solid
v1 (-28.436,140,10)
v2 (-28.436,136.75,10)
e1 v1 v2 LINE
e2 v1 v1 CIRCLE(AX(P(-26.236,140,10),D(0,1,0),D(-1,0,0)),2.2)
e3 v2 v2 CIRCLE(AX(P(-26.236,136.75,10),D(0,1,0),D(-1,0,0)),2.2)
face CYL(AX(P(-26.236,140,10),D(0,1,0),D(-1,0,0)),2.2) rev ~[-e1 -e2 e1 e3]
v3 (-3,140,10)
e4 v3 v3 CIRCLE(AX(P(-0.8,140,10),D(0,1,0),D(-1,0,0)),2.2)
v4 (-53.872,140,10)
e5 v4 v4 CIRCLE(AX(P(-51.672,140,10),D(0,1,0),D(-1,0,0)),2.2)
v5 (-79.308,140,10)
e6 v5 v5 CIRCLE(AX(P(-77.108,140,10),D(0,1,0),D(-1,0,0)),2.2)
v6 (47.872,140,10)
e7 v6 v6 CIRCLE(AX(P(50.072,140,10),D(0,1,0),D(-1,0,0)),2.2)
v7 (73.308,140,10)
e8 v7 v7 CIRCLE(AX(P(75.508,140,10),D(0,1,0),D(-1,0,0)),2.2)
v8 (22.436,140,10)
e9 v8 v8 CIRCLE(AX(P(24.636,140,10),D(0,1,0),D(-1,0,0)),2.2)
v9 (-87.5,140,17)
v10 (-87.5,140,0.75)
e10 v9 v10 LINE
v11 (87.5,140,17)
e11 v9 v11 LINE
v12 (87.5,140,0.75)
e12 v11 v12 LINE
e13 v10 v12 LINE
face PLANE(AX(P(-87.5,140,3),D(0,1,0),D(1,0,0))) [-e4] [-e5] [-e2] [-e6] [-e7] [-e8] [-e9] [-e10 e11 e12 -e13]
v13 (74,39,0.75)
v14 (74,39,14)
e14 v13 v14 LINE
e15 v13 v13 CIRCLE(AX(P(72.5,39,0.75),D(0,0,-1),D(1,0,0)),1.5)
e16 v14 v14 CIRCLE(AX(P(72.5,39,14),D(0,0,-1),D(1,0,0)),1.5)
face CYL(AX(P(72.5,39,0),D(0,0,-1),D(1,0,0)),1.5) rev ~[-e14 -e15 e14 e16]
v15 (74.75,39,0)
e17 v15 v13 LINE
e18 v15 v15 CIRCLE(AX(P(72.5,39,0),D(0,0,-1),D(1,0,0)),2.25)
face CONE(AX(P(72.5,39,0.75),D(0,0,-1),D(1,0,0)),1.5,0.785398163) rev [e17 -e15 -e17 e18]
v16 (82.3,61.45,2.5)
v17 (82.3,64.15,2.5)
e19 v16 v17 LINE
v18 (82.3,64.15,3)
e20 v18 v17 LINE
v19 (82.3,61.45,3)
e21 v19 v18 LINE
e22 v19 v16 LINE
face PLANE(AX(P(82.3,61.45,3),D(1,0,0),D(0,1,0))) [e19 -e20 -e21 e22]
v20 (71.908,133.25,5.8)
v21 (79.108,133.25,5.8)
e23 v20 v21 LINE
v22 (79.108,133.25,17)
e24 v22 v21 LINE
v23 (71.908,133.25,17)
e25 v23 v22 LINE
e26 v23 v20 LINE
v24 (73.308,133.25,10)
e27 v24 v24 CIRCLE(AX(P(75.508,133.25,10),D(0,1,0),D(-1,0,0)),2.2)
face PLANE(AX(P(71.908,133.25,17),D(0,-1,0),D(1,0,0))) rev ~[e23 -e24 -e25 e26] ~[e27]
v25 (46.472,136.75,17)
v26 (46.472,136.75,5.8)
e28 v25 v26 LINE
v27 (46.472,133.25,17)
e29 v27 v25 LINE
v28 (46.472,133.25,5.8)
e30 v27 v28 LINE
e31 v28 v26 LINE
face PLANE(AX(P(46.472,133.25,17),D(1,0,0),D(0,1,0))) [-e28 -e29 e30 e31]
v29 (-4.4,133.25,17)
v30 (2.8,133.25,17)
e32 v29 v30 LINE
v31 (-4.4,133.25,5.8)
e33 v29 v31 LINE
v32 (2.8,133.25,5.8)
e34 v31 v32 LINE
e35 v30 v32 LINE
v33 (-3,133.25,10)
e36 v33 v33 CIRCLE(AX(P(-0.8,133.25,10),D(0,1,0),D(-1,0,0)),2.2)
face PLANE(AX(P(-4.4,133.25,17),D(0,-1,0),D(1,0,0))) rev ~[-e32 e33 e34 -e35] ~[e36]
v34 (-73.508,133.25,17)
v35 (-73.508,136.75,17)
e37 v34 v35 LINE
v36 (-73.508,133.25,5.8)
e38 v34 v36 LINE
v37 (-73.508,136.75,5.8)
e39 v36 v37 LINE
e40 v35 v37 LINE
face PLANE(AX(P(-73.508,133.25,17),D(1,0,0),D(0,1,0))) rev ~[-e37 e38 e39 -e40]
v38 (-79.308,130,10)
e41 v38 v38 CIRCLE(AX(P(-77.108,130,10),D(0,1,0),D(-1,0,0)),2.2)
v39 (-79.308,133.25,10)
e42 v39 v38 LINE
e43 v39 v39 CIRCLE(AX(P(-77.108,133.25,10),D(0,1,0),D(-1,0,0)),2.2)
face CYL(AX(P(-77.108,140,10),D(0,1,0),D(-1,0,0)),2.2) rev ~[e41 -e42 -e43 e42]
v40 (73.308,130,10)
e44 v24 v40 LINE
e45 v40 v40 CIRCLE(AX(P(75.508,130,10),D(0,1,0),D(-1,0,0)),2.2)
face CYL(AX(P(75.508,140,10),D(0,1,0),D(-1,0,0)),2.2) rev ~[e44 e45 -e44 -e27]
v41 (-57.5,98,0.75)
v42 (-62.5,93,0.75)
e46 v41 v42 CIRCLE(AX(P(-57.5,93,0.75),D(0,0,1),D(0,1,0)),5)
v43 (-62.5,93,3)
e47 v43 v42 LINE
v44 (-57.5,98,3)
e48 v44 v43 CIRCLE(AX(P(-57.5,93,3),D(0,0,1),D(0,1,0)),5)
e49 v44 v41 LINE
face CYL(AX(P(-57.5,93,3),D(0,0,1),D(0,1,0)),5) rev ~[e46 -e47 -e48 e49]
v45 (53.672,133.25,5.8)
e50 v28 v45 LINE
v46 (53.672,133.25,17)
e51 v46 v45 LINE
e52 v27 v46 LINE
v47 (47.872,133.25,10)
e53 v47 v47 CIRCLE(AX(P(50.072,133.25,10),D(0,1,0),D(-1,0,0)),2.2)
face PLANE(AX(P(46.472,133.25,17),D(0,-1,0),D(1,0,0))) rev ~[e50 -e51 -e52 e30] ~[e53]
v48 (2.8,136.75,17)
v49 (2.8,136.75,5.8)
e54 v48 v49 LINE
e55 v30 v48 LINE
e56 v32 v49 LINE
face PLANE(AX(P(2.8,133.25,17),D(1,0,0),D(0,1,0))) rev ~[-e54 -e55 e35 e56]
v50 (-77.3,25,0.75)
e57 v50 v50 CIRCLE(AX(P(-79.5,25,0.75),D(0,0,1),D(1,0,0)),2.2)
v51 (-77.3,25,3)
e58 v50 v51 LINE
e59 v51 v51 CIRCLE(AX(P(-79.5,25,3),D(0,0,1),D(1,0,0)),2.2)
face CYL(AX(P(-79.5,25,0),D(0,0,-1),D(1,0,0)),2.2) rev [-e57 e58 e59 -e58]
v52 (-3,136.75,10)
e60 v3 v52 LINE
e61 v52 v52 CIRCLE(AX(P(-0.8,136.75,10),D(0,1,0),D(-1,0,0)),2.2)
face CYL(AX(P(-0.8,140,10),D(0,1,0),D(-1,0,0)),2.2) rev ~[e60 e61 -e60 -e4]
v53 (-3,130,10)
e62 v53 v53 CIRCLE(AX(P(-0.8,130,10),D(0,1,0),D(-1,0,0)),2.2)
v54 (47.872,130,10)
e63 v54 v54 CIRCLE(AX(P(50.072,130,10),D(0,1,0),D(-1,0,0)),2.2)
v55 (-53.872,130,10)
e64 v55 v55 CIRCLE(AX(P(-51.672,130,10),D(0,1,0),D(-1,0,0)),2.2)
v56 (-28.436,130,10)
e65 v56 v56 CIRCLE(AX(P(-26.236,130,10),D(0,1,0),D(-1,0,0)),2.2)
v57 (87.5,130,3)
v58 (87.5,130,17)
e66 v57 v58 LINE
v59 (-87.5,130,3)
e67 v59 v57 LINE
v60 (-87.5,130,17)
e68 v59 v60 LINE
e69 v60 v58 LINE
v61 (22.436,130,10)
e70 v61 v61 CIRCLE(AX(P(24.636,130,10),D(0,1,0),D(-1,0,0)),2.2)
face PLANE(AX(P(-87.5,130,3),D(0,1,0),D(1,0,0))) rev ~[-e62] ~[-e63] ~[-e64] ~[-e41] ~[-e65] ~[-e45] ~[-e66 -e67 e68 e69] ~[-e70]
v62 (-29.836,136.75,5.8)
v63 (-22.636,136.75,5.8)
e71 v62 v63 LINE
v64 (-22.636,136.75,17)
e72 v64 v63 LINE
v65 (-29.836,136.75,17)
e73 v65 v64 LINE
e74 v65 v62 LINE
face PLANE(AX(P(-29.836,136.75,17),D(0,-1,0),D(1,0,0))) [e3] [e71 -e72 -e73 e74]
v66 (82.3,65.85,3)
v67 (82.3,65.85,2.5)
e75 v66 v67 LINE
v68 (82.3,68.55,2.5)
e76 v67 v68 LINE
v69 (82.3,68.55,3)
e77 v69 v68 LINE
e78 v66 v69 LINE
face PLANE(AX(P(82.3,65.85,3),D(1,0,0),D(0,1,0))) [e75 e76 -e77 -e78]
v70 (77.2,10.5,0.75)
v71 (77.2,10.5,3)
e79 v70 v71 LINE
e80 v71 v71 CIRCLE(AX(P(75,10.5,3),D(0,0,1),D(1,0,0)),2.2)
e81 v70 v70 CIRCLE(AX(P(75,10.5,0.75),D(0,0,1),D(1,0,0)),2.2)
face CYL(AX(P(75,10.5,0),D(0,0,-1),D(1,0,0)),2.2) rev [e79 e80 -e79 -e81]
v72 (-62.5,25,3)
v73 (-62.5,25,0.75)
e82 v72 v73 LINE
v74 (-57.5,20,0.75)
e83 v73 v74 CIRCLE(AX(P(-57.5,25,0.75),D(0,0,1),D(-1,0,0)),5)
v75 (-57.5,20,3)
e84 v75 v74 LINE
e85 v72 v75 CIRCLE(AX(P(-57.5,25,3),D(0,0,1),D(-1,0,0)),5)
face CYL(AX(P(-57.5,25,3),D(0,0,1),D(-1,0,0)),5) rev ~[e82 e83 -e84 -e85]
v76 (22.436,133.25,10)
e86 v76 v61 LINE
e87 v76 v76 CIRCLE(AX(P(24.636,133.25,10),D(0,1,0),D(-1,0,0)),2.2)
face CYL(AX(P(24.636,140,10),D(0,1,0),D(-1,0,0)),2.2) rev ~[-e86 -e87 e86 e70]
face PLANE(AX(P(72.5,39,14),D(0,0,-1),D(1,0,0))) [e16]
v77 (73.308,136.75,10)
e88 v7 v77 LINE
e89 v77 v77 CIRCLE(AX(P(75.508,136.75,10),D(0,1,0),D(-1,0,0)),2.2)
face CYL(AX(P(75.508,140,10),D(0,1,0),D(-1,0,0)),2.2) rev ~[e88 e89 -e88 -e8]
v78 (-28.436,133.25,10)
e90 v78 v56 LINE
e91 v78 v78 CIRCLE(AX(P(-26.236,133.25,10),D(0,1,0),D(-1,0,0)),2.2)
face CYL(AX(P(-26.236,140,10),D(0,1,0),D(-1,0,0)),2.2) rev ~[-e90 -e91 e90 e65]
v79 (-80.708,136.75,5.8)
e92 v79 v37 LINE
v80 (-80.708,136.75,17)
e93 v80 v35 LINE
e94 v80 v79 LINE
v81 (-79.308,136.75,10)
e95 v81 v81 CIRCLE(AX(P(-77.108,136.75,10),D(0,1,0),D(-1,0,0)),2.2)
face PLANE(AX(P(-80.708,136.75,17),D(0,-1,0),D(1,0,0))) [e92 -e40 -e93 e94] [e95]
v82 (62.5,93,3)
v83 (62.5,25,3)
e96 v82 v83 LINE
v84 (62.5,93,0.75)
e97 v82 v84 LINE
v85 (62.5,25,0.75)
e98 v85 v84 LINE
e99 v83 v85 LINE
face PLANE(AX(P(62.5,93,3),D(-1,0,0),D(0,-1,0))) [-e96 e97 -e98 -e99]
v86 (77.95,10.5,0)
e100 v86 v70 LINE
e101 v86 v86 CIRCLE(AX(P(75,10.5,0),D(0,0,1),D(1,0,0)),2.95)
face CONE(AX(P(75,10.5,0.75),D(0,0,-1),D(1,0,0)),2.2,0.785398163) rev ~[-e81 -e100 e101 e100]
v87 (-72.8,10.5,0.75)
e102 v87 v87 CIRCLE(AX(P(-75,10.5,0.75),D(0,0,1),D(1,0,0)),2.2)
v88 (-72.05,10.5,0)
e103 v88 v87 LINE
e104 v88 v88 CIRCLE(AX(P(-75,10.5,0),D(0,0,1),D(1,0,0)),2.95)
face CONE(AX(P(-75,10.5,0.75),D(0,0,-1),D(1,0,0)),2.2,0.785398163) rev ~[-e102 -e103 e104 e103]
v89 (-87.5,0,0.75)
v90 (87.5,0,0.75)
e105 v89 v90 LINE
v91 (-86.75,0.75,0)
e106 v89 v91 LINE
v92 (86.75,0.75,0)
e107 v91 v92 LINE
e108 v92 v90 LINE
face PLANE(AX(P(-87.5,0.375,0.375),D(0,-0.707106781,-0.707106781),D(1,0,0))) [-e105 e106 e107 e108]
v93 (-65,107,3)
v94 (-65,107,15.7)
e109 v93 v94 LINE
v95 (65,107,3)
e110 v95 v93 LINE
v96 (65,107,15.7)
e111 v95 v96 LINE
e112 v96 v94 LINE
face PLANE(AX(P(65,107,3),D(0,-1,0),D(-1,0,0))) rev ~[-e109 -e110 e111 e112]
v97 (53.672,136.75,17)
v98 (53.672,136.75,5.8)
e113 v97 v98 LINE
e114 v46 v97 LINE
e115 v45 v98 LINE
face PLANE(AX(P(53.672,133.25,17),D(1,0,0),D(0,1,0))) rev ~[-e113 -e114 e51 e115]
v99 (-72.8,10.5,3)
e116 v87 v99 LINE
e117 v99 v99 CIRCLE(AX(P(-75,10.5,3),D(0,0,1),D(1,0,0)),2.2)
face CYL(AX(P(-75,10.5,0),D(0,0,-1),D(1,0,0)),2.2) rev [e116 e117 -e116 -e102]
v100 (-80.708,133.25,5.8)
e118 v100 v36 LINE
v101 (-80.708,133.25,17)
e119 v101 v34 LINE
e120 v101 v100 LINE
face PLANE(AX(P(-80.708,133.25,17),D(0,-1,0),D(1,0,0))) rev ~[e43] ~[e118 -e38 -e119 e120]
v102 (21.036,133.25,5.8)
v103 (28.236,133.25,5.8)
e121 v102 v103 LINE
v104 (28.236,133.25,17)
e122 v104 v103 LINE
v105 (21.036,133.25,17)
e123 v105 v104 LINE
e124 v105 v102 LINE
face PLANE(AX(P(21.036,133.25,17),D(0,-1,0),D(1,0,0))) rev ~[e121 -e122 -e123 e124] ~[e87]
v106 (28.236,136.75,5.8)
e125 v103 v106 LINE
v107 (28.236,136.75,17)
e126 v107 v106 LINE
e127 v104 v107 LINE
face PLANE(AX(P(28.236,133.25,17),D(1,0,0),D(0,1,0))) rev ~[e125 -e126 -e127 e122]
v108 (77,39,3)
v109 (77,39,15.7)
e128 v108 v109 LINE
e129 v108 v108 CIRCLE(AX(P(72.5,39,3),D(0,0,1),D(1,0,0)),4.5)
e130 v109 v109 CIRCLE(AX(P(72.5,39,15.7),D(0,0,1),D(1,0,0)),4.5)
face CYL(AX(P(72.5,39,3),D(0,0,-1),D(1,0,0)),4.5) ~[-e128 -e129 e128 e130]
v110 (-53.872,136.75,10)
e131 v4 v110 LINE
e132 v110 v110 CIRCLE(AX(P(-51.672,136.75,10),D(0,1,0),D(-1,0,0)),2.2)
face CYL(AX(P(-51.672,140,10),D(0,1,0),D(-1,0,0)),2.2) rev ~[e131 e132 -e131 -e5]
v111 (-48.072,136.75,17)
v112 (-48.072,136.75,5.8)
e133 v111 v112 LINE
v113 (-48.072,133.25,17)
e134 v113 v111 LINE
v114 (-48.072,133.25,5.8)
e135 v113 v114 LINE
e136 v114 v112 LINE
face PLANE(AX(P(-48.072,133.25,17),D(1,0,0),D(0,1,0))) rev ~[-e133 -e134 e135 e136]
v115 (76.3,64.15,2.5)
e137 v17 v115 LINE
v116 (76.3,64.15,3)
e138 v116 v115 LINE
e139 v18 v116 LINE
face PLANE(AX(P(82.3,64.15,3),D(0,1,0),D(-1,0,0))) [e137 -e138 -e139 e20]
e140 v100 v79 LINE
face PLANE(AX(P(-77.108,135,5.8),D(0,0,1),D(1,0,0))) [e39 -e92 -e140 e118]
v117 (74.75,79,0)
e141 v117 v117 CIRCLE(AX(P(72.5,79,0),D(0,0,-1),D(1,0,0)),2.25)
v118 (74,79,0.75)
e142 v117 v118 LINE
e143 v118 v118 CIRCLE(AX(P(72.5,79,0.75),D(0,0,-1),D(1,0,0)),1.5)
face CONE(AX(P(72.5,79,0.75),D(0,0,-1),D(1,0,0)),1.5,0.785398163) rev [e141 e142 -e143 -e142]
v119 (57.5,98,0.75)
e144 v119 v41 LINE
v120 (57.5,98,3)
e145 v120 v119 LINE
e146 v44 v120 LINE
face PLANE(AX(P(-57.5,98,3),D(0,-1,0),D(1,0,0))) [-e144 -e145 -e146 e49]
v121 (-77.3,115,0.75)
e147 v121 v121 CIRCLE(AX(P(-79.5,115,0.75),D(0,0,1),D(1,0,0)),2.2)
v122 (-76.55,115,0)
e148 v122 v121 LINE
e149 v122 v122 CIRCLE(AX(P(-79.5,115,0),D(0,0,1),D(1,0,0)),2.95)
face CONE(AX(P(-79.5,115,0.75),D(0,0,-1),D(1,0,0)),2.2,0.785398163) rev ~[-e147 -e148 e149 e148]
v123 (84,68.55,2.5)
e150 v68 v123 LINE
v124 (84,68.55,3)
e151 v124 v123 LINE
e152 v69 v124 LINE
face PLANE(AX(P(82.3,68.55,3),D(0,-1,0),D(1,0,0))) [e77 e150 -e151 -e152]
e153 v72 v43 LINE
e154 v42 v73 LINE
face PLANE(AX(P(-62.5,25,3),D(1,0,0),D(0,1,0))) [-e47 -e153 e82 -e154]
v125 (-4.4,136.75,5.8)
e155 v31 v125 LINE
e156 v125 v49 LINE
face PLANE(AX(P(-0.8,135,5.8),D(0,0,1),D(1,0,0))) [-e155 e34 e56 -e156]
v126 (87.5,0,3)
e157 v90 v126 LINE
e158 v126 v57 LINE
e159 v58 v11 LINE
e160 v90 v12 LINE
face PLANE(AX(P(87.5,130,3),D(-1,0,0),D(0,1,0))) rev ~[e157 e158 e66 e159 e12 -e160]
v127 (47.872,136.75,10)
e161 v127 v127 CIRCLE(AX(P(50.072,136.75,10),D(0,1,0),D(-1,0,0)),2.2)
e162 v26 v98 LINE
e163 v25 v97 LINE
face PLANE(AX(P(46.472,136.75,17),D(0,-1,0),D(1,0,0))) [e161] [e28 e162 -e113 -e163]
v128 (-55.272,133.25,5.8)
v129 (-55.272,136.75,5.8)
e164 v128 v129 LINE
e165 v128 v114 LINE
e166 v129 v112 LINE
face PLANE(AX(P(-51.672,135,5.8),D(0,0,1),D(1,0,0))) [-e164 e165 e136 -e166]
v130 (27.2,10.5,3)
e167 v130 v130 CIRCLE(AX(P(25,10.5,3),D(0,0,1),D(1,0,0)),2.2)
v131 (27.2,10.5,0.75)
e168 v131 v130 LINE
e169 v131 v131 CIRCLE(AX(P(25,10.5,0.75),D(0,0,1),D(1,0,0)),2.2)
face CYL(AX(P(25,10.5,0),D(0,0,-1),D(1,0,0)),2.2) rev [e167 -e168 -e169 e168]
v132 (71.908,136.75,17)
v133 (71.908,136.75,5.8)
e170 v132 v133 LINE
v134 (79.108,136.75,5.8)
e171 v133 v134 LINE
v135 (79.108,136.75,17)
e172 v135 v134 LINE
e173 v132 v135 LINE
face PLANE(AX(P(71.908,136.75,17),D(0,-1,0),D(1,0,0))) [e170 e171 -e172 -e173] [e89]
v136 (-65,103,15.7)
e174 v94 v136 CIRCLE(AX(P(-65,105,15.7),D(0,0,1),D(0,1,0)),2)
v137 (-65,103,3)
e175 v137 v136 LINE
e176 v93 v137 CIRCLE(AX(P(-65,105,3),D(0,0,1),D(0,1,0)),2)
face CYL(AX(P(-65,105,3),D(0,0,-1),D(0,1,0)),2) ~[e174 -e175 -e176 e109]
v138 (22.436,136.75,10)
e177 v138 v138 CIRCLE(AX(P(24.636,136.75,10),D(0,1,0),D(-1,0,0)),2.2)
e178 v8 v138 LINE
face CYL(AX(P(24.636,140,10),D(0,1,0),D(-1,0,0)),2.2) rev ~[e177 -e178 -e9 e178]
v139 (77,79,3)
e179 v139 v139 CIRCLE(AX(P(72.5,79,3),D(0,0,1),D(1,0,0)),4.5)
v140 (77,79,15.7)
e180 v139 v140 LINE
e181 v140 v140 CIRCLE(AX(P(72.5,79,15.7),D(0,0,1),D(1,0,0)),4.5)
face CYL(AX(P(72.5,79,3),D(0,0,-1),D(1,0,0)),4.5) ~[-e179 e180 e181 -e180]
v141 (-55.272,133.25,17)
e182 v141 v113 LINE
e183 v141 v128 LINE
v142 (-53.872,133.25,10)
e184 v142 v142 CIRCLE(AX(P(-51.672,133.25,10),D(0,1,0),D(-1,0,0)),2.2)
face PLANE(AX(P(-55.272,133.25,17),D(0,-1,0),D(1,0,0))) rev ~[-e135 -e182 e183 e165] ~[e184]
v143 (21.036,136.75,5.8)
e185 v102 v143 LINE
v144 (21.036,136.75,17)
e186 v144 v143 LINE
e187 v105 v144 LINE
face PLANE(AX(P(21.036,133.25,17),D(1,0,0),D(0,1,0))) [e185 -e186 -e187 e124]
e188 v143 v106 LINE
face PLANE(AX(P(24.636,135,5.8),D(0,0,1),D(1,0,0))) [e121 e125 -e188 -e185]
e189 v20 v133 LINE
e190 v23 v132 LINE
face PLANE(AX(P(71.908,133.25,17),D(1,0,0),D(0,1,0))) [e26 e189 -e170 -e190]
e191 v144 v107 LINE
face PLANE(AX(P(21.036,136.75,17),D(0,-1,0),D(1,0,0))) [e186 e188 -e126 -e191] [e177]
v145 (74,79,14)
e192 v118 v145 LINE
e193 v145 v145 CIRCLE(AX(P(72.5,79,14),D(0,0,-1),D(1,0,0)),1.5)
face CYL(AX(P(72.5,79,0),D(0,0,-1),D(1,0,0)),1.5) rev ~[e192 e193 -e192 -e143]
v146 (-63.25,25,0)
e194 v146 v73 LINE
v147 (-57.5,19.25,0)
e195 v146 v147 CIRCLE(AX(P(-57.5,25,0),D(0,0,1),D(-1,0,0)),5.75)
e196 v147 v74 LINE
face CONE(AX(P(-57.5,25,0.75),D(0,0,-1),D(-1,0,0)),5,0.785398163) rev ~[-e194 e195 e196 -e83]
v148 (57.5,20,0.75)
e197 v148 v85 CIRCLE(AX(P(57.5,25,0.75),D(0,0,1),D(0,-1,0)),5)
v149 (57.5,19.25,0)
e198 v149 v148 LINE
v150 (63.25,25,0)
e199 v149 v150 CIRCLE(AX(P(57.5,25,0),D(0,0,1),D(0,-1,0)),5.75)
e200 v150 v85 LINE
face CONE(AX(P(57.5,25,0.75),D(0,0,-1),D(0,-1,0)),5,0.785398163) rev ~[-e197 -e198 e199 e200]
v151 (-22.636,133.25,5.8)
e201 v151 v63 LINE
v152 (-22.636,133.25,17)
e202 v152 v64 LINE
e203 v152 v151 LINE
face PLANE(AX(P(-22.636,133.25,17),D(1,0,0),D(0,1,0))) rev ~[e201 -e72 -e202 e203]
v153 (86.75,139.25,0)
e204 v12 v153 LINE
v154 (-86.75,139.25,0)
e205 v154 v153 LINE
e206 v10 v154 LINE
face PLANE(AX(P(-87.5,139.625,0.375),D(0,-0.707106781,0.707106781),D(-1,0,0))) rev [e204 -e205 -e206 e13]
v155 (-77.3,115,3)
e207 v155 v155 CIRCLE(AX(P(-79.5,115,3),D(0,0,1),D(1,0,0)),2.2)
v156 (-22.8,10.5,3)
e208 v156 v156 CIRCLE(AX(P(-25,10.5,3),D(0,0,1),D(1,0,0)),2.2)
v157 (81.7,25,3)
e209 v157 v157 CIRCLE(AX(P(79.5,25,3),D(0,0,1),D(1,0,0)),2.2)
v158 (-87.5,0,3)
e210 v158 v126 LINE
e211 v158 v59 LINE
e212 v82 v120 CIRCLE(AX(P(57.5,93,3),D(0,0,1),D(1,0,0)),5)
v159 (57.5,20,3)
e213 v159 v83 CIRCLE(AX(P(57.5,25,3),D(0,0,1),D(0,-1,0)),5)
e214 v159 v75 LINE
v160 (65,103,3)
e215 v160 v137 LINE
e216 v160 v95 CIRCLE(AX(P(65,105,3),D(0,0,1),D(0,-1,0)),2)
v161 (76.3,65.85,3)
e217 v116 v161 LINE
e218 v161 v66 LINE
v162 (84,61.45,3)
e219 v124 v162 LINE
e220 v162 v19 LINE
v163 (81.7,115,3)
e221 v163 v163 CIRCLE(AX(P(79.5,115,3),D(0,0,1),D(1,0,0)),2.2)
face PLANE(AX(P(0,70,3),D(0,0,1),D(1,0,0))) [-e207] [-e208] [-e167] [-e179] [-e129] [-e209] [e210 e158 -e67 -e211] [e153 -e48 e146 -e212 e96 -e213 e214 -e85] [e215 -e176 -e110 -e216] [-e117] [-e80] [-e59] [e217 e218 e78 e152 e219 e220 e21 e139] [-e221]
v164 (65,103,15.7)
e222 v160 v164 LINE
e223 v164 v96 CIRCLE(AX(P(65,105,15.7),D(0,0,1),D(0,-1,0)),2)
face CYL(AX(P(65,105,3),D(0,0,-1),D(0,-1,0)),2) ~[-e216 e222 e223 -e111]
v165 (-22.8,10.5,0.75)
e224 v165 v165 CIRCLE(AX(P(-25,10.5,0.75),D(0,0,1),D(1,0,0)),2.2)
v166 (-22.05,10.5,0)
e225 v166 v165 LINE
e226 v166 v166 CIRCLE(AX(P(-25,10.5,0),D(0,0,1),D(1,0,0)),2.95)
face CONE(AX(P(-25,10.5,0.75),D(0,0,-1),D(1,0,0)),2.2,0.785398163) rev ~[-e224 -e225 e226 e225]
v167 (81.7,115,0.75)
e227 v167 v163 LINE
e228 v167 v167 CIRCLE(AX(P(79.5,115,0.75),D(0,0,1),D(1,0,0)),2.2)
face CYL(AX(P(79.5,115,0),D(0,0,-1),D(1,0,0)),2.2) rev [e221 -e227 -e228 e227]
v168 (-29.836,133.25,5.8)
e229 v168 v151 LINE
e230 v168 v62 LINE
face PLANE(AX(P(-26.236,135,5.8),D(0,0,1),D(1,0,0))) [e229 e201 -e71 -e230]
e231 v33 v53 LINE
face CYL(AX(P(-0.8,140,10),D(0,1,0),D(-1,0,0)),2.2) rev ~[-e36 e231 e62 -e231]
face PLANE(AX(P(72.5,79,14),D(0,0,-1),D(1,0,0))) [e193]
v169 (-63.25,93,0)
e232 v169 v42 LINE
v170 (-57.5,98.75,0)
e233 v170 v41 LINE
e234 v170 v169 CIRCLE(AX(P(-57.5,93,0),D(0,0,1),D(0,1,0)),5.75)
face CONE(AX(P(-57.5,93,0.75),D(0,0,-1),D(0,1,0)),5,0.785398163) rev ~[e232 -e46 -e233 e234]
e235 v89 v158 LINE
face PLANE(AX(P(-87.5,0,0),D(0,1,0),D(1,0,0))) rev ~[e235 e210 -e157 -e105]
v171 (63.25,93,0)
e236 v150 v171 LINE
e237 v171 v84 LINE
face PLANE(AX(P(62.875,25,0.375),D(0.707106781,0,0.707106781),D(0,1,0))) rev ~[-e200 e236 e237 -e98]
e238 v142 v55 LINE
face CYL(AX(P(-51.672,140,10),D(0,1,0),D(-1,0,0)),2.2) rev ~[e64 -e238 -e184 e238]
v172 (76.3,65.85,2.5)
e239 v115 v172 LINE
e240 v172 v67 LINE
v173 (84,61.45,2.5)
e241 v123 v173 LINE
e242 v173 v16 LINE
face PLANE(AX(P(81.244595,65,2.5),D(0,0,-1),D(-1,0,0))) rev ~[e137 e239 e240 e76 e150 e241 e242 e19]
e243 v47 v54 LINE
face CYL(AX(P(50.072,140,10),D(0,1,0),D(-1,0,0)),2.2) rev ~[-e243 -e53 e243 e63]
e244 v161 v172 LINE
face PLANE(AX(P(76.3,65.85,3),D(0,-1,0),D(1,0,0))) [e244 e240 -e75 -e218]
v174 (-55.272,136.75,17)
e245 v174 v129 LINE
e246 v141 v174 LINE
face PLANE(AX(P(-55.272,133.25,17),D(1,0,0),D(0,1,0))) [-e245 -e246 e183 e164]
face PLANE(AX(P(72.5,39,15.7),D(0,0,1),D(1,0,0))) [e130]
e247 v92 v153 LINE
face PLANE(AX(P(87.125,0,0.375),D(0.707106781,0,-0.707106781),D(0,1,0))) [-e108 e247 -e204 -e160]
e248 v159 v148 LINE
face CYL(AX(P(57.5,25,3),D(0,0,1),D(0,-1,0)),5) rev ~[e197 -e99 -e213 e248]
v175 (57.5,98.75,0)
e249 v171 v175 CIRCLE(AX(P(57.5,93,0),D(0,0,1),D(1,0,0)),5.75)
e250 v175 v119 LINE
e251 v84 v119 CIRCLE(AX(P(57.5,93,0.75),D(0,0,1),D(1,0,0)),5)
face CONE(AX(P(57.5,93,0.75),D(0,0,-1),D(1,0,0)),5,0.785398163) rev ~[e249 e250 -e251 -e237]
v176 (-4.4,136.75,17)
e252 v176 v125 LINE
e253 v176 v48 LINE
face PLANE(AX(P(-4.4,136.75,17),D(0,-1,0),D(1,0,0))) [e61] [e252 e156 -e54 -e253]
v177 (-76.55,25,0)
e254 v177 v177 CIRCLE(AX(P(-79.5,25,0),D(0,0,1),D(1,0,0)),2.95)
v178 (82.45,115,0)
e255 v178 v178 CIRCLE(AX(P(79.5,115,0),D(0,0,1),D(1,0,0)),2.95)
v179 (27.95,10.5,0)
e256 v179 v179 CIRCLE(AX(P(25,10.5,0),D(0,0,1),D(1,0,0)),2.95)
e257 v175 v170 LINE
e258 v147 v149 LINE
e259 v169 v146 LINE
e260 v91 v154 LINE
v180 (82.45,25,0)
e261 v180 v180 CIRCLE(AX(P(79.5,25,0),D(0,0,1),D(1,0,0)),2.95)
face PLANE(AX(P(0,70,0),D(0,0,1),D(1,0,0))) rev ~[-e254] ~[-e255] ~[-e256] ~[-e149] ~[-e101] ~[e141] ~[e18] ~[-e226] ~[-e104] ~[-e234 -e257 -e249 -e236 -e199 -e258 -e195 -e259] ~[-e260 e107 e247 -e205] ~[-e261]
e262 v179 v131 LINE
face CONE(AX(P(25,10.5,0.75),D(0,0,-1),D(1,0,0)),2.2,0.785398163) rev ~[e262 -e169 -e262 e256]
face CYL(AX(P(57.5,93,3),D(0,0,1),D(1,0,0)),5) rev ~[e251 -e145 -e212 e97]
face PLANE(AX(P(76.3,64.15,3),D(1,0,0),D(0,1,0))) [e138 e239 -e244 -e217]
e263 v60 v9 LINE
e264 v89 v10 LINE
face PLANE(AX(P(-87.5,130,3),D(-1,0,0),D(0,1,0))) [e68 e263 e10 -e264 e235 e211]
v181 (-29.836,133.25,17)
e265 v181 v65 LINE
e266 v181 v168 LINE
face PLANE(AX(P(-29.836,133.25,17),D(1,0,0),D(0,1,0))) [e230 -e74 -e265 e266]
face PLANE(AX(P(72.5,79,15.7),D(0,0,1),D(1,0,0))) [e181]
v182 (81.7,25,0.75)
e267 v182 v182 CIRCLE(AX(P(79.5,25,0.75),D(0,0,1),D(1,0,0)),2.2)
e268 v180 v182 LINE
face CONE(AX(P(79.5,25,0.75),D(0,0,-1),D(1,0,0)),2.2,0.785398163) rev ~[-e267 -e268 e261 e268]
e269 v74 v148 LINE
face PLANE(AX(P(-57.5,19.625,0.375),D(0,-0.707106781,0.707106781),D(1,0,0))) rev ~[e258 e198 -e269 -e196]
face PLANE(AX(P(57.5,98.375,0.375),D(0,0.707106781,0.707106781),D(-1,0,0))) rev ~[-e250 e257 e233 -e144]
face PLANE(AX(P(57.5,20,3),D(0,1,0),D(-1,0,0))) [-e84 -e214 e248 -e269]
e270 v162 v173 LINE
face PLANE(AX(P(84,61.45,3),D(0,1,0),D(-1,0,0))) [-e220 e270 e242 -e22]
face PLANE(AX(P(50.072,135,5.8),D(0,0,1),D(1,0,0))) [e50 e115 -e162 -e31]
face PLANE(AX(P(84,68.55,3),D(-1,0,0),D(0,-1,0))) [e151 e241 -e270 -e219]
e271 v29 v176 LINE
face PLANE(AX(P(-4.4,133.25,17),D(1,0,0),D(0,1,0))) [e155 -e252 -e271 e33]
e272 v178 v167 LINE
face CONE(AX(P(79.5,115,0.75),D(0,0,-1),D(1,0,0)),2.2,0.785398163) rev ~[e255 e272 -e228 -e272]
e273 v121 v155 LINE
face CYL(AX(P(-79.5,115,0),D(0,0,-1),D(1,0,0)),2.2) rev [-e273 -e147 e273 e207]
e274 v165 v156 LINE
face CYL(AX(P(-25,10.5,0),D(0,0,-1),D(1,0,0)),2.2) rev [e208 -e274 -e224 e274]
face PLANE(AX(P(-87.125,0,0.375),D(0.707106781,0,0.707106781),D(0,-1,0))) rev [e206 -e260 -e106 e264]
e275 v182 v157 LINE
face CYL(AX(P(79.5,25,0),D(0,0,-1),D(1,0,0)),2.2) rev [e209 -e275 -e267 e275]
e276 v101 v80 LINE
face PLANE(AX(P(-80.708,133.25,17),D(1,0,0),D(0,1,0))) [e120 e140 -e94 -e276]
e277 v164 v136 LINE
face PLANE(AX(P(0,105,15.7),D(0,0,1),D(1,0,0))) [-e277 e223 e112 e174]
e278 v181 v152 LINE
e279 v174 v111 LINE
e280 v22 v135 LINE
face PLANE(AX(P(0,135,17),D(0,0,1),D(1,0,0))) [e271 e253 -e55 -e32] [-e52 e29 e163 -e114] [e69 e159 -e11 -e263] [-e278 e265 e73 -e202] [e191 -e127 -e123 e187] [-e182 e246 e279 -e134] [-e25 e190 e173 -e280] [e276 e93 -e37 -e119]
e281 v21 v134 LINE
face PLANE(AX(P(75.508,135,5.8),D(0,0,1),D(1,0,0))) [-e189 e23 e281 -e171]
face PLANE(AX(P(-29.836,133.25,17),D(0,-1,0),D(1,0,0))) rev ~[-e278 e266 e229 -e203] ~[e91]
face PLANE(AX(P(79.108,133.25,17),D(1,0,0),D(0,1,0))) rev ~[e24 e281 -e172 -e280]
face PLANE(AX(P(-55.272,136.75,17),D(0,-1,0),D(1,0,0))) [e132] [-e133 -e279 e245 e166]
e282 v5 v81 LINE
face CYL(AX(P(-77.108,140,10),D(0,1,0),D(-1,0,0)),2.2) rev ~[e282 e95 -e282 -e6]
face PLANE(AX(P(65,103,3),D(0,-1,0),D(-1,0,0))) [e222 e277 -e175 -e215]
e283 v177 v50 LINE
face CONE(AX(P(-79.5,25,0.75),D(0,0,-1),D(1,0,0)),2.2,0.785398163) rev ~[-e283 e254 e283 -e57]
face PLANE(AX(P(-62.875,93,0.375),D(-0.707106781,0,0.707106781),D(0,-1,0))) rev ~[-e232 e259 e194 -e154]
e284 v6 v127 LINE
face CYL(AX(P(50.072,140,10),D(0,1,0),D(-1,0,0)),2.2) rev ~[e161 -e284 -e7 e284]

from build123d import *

# Parameters (mm, degrees)
SKETCH_W            = 175
SKETCH_H            = 140
SKETCH_R            = 2.2
PAD_DEPTH           = 3
SKETCH001_W         = 175
SKETCH001_H         = 10
PAD001_DEPTH        = 14
SKETCH002_R         = 2.2
POCKET_DEPTH        = 140.001
SKETCH003_W         = 7.2
SKETCH003_H         = 3.5
POCKET001_DEPTH     = 11.2
LINEARPATTERN_COUNT = 7
LINEARPATTERN_PITCH = 25.436
POCKET002_DEPTH     = 0.5
PAD002_DEPTH        = 12.7
POCKET003_DEPTH     = 3.001
SKETCH007_R         = 4.5
PAD003_DEPTH        = 12.7
SKETCH008_R         = 1.5
POCKET004_DEPTH     = 14
CHAMFER_SIZE        = 0.75


with BuildPart() as part:
    # Sketch → Pad (new body)
    with BuildSketch(Plane.XY):
        with Locations((0, 70)):
            Rectangle(SKETCH_W, SKETCH_H)
        with Locations((-79.5, 115)):
            Circle(SKETCH_R, mode=Mode.SUBTRACT)
        with Locations((79.5, 115)):
            Circle(SKETCH_R, mode=Mode.SUBTRACT)
        with Locations((79.5, 25)):
            Circle(SKETCH_R, mode=Mode.SUBTRACT)
        with Locations((-79.5, 25)):
            Circle(SKETCH_R, mode=Mode.SUBTRACT)
        with Locations((-75, 10.5)):
            Circle(SKETCH_R, mode=Mode.SUBTRACT)
        with Locations((-25, 10.5)):
            Circle(SKETCH_R, mode=Mode.SUBTRACT)
        with Locations((25, 10.5)):
            Circle(SKETCH_R, mode=Mode.SUBTRACT)
        with Locations((75, 10.5)):
            Circle(SKETCH_R, mode=Mode.SUBTRACT)
    extrude(amount=PAD_DEPTH)

    # Sketch001 (on Face14 of Pad) → Pad001 (join)
    with BuildSketch(Plane.XY.offset(3)):
        with Locations((0, 135)):
            Rectangle(SKETCH001_W, SKETCH001_H)
    extrude(amount=PAD001_DEPTH)

    # Sketch002 (on Face5 of Pad001) → Pocket (cut, through all)
    with BuildSketch(Plane(origin=(0, 140, 0), x_dir=(-1, 0, 0), z_dir=(0, 1, 0))):
        with Locations((-75.508, 10)):
            Circle(SKETCH002_R)
        with Locations((-50.072, 10)):
            Circle(SKETCH002_R)
        with Locations((-24.636, 10)):
            Circle(SKETCH002_R)
        with Locations((0.8, 10)):
            Circle(SKETCH002_R)
        with Locations((26.236, 10)):
            Circle(SKETCH002_R)
        with Locations((51.672, 10)):
            Circle(SKETCH002_R)
        with Locations((77.108, 10)):
            Circle(SKETCH002_R)
    extrude(amount=-POCKET_DEPTH, mode=Mode.SUBTRACT)

    # Sketch003 (on Face18 of Pocket) → Pocket001 (cut)
    with BuildSketch(Plane.XY.offset(17)):
        with Locations((75.508, 135)):
            Rectangle(SKETCH003_W, SKETCH003_H)
    pocket001 = extrude(amount=-POCKET001_DEPTH, mode=Mode.SUBTRACT)

    # LinearPattern: Pocket001 ×7
    with Locations(*[(-i * LINEARPATTERN_PITCH, 0, 0) for i in range(1, LINEARPATTERN_COUNT)]):
        add(pocket001, mode=Mode.SUBTRACT)

    # Sketch004 (on Face7 of LinearPattern) → Pocket002 (cut)
    with BuildSketch(Plane.XY.offset(3)):
        Polygon((84, 68.55), (84, 61.45), (82.3, 61.45), (82.3, 64.15), (76.3, 64.15), (76.3, 65.85), (82.3, 65.85), (82.3, 68.55), align=None)
    extrude(amount=-POCKET002_DEPTH, mode=Mode.SUBTRACT)

    # Sketch005 (on Face7 of Pocket002) → Pad002 (join)
    with BuildSketch(Plane.XY.offset(3)):
        with BuildLine():
            ThreePointArc((65, 103), (67, 105), (65, 107))
            Line((65, 107), (-65, 107))
            ThreePointArc((-65, 107), (-67, 105), (-65, 103))
            Line((65, 103), (-65, 103))
        make_face()
    extrude(amount=PAD002_DEPTH)

    # Sketch006 (on Face7 of Pad002) → Pocket003 (cut, through all)
    with BuildSketch(Plane.XY.offset(3)):
        with BuildLine():
            Line((-57.5, 98), (57.5, 98))
            ThreePointArc((62.5, 93), (61.0355339059, 96.5355339059), (57.5, 98))
            Line((62.5, 93), (62.5, 25))
            ThreePointArc((57.5, 20), (61.0355339059, 21.4644660941), (62.5, 25))
            Line((57.5, 20), (-57.5, 20))
            ThreePointArc((-62.5, 25), (-61.0355339059, 21.4644660941), (-57.5, 20))
            Line((-62.5, 25), (-62.5, 93))
            ThreePointArc((-57.5, 98), (-61.0355339059, 96.5355339059), (-62.5, 93))
        make_face()
    extrude(amount=-POCKET003_DEPTH, mode=Mode.SUBTRACT)

    # Sketch007 (on Face7 of Pocket003) → Pad003 (join)
    with BuildSketch(Plane.XY.offset(3)):
        with Locations((72.5, 79)):
            Circle(SKETCH007_R)
        with Locations((72.5, 39)):
            Circle(SKETCH007_R)
    extrude(amount=PAD003_DEPTH)

    # Sketch008 (on Face4 of Pad003) → Pocket004 (cut)
    with BuildSketch(Plane(origin=(0, 0, 0), x_dir=(1, 0, 0), z_dir=(0, 0, -1))):
        with Locations((72.5, -79)):
            Circle(SKETCH008_R)
        with Locations((72.5, -39)):
            Circle(SKETCH008_R)
    extrude(amount=-POCKET004_DEPTH, mode=Mode.SUBTRACT)

    # Chamfer
    chamfer_edges = [part.edges().sort_by_distance(p)[0] for p in [
        (0, 140, 0),
        (-87.5, 70, 0),
        (87.5, 70, 0),
        (0, 0, 0),
        (-77.2, 10.5, 0),
        (-27.2, 10.5, 0),
        (71, 39, 0),
        (72.8, 10.5, 0),
        (71, 79, 0),
        (22.8, 10.5, 0),
        (61.035534, 96.535534, 0),
        (62.5, 59, 0),
        (0, 98, 0),
        (61.035534, 21.464466, 0),
        (-61.035534, 96.535534, 0),
        (0, 20, 0),
        (-62.5, 59, 0),
        (-61.035534, 21.464466, 0),
        (77.3, 115, 0),
        (77.3, 25, 0),
        (-81.7, 115, 0),
        (-81.7, 25, 0),
    ]]
    chamfer(chamfer_edges, length=CHAMFER_SIZE)


solid = part.part
